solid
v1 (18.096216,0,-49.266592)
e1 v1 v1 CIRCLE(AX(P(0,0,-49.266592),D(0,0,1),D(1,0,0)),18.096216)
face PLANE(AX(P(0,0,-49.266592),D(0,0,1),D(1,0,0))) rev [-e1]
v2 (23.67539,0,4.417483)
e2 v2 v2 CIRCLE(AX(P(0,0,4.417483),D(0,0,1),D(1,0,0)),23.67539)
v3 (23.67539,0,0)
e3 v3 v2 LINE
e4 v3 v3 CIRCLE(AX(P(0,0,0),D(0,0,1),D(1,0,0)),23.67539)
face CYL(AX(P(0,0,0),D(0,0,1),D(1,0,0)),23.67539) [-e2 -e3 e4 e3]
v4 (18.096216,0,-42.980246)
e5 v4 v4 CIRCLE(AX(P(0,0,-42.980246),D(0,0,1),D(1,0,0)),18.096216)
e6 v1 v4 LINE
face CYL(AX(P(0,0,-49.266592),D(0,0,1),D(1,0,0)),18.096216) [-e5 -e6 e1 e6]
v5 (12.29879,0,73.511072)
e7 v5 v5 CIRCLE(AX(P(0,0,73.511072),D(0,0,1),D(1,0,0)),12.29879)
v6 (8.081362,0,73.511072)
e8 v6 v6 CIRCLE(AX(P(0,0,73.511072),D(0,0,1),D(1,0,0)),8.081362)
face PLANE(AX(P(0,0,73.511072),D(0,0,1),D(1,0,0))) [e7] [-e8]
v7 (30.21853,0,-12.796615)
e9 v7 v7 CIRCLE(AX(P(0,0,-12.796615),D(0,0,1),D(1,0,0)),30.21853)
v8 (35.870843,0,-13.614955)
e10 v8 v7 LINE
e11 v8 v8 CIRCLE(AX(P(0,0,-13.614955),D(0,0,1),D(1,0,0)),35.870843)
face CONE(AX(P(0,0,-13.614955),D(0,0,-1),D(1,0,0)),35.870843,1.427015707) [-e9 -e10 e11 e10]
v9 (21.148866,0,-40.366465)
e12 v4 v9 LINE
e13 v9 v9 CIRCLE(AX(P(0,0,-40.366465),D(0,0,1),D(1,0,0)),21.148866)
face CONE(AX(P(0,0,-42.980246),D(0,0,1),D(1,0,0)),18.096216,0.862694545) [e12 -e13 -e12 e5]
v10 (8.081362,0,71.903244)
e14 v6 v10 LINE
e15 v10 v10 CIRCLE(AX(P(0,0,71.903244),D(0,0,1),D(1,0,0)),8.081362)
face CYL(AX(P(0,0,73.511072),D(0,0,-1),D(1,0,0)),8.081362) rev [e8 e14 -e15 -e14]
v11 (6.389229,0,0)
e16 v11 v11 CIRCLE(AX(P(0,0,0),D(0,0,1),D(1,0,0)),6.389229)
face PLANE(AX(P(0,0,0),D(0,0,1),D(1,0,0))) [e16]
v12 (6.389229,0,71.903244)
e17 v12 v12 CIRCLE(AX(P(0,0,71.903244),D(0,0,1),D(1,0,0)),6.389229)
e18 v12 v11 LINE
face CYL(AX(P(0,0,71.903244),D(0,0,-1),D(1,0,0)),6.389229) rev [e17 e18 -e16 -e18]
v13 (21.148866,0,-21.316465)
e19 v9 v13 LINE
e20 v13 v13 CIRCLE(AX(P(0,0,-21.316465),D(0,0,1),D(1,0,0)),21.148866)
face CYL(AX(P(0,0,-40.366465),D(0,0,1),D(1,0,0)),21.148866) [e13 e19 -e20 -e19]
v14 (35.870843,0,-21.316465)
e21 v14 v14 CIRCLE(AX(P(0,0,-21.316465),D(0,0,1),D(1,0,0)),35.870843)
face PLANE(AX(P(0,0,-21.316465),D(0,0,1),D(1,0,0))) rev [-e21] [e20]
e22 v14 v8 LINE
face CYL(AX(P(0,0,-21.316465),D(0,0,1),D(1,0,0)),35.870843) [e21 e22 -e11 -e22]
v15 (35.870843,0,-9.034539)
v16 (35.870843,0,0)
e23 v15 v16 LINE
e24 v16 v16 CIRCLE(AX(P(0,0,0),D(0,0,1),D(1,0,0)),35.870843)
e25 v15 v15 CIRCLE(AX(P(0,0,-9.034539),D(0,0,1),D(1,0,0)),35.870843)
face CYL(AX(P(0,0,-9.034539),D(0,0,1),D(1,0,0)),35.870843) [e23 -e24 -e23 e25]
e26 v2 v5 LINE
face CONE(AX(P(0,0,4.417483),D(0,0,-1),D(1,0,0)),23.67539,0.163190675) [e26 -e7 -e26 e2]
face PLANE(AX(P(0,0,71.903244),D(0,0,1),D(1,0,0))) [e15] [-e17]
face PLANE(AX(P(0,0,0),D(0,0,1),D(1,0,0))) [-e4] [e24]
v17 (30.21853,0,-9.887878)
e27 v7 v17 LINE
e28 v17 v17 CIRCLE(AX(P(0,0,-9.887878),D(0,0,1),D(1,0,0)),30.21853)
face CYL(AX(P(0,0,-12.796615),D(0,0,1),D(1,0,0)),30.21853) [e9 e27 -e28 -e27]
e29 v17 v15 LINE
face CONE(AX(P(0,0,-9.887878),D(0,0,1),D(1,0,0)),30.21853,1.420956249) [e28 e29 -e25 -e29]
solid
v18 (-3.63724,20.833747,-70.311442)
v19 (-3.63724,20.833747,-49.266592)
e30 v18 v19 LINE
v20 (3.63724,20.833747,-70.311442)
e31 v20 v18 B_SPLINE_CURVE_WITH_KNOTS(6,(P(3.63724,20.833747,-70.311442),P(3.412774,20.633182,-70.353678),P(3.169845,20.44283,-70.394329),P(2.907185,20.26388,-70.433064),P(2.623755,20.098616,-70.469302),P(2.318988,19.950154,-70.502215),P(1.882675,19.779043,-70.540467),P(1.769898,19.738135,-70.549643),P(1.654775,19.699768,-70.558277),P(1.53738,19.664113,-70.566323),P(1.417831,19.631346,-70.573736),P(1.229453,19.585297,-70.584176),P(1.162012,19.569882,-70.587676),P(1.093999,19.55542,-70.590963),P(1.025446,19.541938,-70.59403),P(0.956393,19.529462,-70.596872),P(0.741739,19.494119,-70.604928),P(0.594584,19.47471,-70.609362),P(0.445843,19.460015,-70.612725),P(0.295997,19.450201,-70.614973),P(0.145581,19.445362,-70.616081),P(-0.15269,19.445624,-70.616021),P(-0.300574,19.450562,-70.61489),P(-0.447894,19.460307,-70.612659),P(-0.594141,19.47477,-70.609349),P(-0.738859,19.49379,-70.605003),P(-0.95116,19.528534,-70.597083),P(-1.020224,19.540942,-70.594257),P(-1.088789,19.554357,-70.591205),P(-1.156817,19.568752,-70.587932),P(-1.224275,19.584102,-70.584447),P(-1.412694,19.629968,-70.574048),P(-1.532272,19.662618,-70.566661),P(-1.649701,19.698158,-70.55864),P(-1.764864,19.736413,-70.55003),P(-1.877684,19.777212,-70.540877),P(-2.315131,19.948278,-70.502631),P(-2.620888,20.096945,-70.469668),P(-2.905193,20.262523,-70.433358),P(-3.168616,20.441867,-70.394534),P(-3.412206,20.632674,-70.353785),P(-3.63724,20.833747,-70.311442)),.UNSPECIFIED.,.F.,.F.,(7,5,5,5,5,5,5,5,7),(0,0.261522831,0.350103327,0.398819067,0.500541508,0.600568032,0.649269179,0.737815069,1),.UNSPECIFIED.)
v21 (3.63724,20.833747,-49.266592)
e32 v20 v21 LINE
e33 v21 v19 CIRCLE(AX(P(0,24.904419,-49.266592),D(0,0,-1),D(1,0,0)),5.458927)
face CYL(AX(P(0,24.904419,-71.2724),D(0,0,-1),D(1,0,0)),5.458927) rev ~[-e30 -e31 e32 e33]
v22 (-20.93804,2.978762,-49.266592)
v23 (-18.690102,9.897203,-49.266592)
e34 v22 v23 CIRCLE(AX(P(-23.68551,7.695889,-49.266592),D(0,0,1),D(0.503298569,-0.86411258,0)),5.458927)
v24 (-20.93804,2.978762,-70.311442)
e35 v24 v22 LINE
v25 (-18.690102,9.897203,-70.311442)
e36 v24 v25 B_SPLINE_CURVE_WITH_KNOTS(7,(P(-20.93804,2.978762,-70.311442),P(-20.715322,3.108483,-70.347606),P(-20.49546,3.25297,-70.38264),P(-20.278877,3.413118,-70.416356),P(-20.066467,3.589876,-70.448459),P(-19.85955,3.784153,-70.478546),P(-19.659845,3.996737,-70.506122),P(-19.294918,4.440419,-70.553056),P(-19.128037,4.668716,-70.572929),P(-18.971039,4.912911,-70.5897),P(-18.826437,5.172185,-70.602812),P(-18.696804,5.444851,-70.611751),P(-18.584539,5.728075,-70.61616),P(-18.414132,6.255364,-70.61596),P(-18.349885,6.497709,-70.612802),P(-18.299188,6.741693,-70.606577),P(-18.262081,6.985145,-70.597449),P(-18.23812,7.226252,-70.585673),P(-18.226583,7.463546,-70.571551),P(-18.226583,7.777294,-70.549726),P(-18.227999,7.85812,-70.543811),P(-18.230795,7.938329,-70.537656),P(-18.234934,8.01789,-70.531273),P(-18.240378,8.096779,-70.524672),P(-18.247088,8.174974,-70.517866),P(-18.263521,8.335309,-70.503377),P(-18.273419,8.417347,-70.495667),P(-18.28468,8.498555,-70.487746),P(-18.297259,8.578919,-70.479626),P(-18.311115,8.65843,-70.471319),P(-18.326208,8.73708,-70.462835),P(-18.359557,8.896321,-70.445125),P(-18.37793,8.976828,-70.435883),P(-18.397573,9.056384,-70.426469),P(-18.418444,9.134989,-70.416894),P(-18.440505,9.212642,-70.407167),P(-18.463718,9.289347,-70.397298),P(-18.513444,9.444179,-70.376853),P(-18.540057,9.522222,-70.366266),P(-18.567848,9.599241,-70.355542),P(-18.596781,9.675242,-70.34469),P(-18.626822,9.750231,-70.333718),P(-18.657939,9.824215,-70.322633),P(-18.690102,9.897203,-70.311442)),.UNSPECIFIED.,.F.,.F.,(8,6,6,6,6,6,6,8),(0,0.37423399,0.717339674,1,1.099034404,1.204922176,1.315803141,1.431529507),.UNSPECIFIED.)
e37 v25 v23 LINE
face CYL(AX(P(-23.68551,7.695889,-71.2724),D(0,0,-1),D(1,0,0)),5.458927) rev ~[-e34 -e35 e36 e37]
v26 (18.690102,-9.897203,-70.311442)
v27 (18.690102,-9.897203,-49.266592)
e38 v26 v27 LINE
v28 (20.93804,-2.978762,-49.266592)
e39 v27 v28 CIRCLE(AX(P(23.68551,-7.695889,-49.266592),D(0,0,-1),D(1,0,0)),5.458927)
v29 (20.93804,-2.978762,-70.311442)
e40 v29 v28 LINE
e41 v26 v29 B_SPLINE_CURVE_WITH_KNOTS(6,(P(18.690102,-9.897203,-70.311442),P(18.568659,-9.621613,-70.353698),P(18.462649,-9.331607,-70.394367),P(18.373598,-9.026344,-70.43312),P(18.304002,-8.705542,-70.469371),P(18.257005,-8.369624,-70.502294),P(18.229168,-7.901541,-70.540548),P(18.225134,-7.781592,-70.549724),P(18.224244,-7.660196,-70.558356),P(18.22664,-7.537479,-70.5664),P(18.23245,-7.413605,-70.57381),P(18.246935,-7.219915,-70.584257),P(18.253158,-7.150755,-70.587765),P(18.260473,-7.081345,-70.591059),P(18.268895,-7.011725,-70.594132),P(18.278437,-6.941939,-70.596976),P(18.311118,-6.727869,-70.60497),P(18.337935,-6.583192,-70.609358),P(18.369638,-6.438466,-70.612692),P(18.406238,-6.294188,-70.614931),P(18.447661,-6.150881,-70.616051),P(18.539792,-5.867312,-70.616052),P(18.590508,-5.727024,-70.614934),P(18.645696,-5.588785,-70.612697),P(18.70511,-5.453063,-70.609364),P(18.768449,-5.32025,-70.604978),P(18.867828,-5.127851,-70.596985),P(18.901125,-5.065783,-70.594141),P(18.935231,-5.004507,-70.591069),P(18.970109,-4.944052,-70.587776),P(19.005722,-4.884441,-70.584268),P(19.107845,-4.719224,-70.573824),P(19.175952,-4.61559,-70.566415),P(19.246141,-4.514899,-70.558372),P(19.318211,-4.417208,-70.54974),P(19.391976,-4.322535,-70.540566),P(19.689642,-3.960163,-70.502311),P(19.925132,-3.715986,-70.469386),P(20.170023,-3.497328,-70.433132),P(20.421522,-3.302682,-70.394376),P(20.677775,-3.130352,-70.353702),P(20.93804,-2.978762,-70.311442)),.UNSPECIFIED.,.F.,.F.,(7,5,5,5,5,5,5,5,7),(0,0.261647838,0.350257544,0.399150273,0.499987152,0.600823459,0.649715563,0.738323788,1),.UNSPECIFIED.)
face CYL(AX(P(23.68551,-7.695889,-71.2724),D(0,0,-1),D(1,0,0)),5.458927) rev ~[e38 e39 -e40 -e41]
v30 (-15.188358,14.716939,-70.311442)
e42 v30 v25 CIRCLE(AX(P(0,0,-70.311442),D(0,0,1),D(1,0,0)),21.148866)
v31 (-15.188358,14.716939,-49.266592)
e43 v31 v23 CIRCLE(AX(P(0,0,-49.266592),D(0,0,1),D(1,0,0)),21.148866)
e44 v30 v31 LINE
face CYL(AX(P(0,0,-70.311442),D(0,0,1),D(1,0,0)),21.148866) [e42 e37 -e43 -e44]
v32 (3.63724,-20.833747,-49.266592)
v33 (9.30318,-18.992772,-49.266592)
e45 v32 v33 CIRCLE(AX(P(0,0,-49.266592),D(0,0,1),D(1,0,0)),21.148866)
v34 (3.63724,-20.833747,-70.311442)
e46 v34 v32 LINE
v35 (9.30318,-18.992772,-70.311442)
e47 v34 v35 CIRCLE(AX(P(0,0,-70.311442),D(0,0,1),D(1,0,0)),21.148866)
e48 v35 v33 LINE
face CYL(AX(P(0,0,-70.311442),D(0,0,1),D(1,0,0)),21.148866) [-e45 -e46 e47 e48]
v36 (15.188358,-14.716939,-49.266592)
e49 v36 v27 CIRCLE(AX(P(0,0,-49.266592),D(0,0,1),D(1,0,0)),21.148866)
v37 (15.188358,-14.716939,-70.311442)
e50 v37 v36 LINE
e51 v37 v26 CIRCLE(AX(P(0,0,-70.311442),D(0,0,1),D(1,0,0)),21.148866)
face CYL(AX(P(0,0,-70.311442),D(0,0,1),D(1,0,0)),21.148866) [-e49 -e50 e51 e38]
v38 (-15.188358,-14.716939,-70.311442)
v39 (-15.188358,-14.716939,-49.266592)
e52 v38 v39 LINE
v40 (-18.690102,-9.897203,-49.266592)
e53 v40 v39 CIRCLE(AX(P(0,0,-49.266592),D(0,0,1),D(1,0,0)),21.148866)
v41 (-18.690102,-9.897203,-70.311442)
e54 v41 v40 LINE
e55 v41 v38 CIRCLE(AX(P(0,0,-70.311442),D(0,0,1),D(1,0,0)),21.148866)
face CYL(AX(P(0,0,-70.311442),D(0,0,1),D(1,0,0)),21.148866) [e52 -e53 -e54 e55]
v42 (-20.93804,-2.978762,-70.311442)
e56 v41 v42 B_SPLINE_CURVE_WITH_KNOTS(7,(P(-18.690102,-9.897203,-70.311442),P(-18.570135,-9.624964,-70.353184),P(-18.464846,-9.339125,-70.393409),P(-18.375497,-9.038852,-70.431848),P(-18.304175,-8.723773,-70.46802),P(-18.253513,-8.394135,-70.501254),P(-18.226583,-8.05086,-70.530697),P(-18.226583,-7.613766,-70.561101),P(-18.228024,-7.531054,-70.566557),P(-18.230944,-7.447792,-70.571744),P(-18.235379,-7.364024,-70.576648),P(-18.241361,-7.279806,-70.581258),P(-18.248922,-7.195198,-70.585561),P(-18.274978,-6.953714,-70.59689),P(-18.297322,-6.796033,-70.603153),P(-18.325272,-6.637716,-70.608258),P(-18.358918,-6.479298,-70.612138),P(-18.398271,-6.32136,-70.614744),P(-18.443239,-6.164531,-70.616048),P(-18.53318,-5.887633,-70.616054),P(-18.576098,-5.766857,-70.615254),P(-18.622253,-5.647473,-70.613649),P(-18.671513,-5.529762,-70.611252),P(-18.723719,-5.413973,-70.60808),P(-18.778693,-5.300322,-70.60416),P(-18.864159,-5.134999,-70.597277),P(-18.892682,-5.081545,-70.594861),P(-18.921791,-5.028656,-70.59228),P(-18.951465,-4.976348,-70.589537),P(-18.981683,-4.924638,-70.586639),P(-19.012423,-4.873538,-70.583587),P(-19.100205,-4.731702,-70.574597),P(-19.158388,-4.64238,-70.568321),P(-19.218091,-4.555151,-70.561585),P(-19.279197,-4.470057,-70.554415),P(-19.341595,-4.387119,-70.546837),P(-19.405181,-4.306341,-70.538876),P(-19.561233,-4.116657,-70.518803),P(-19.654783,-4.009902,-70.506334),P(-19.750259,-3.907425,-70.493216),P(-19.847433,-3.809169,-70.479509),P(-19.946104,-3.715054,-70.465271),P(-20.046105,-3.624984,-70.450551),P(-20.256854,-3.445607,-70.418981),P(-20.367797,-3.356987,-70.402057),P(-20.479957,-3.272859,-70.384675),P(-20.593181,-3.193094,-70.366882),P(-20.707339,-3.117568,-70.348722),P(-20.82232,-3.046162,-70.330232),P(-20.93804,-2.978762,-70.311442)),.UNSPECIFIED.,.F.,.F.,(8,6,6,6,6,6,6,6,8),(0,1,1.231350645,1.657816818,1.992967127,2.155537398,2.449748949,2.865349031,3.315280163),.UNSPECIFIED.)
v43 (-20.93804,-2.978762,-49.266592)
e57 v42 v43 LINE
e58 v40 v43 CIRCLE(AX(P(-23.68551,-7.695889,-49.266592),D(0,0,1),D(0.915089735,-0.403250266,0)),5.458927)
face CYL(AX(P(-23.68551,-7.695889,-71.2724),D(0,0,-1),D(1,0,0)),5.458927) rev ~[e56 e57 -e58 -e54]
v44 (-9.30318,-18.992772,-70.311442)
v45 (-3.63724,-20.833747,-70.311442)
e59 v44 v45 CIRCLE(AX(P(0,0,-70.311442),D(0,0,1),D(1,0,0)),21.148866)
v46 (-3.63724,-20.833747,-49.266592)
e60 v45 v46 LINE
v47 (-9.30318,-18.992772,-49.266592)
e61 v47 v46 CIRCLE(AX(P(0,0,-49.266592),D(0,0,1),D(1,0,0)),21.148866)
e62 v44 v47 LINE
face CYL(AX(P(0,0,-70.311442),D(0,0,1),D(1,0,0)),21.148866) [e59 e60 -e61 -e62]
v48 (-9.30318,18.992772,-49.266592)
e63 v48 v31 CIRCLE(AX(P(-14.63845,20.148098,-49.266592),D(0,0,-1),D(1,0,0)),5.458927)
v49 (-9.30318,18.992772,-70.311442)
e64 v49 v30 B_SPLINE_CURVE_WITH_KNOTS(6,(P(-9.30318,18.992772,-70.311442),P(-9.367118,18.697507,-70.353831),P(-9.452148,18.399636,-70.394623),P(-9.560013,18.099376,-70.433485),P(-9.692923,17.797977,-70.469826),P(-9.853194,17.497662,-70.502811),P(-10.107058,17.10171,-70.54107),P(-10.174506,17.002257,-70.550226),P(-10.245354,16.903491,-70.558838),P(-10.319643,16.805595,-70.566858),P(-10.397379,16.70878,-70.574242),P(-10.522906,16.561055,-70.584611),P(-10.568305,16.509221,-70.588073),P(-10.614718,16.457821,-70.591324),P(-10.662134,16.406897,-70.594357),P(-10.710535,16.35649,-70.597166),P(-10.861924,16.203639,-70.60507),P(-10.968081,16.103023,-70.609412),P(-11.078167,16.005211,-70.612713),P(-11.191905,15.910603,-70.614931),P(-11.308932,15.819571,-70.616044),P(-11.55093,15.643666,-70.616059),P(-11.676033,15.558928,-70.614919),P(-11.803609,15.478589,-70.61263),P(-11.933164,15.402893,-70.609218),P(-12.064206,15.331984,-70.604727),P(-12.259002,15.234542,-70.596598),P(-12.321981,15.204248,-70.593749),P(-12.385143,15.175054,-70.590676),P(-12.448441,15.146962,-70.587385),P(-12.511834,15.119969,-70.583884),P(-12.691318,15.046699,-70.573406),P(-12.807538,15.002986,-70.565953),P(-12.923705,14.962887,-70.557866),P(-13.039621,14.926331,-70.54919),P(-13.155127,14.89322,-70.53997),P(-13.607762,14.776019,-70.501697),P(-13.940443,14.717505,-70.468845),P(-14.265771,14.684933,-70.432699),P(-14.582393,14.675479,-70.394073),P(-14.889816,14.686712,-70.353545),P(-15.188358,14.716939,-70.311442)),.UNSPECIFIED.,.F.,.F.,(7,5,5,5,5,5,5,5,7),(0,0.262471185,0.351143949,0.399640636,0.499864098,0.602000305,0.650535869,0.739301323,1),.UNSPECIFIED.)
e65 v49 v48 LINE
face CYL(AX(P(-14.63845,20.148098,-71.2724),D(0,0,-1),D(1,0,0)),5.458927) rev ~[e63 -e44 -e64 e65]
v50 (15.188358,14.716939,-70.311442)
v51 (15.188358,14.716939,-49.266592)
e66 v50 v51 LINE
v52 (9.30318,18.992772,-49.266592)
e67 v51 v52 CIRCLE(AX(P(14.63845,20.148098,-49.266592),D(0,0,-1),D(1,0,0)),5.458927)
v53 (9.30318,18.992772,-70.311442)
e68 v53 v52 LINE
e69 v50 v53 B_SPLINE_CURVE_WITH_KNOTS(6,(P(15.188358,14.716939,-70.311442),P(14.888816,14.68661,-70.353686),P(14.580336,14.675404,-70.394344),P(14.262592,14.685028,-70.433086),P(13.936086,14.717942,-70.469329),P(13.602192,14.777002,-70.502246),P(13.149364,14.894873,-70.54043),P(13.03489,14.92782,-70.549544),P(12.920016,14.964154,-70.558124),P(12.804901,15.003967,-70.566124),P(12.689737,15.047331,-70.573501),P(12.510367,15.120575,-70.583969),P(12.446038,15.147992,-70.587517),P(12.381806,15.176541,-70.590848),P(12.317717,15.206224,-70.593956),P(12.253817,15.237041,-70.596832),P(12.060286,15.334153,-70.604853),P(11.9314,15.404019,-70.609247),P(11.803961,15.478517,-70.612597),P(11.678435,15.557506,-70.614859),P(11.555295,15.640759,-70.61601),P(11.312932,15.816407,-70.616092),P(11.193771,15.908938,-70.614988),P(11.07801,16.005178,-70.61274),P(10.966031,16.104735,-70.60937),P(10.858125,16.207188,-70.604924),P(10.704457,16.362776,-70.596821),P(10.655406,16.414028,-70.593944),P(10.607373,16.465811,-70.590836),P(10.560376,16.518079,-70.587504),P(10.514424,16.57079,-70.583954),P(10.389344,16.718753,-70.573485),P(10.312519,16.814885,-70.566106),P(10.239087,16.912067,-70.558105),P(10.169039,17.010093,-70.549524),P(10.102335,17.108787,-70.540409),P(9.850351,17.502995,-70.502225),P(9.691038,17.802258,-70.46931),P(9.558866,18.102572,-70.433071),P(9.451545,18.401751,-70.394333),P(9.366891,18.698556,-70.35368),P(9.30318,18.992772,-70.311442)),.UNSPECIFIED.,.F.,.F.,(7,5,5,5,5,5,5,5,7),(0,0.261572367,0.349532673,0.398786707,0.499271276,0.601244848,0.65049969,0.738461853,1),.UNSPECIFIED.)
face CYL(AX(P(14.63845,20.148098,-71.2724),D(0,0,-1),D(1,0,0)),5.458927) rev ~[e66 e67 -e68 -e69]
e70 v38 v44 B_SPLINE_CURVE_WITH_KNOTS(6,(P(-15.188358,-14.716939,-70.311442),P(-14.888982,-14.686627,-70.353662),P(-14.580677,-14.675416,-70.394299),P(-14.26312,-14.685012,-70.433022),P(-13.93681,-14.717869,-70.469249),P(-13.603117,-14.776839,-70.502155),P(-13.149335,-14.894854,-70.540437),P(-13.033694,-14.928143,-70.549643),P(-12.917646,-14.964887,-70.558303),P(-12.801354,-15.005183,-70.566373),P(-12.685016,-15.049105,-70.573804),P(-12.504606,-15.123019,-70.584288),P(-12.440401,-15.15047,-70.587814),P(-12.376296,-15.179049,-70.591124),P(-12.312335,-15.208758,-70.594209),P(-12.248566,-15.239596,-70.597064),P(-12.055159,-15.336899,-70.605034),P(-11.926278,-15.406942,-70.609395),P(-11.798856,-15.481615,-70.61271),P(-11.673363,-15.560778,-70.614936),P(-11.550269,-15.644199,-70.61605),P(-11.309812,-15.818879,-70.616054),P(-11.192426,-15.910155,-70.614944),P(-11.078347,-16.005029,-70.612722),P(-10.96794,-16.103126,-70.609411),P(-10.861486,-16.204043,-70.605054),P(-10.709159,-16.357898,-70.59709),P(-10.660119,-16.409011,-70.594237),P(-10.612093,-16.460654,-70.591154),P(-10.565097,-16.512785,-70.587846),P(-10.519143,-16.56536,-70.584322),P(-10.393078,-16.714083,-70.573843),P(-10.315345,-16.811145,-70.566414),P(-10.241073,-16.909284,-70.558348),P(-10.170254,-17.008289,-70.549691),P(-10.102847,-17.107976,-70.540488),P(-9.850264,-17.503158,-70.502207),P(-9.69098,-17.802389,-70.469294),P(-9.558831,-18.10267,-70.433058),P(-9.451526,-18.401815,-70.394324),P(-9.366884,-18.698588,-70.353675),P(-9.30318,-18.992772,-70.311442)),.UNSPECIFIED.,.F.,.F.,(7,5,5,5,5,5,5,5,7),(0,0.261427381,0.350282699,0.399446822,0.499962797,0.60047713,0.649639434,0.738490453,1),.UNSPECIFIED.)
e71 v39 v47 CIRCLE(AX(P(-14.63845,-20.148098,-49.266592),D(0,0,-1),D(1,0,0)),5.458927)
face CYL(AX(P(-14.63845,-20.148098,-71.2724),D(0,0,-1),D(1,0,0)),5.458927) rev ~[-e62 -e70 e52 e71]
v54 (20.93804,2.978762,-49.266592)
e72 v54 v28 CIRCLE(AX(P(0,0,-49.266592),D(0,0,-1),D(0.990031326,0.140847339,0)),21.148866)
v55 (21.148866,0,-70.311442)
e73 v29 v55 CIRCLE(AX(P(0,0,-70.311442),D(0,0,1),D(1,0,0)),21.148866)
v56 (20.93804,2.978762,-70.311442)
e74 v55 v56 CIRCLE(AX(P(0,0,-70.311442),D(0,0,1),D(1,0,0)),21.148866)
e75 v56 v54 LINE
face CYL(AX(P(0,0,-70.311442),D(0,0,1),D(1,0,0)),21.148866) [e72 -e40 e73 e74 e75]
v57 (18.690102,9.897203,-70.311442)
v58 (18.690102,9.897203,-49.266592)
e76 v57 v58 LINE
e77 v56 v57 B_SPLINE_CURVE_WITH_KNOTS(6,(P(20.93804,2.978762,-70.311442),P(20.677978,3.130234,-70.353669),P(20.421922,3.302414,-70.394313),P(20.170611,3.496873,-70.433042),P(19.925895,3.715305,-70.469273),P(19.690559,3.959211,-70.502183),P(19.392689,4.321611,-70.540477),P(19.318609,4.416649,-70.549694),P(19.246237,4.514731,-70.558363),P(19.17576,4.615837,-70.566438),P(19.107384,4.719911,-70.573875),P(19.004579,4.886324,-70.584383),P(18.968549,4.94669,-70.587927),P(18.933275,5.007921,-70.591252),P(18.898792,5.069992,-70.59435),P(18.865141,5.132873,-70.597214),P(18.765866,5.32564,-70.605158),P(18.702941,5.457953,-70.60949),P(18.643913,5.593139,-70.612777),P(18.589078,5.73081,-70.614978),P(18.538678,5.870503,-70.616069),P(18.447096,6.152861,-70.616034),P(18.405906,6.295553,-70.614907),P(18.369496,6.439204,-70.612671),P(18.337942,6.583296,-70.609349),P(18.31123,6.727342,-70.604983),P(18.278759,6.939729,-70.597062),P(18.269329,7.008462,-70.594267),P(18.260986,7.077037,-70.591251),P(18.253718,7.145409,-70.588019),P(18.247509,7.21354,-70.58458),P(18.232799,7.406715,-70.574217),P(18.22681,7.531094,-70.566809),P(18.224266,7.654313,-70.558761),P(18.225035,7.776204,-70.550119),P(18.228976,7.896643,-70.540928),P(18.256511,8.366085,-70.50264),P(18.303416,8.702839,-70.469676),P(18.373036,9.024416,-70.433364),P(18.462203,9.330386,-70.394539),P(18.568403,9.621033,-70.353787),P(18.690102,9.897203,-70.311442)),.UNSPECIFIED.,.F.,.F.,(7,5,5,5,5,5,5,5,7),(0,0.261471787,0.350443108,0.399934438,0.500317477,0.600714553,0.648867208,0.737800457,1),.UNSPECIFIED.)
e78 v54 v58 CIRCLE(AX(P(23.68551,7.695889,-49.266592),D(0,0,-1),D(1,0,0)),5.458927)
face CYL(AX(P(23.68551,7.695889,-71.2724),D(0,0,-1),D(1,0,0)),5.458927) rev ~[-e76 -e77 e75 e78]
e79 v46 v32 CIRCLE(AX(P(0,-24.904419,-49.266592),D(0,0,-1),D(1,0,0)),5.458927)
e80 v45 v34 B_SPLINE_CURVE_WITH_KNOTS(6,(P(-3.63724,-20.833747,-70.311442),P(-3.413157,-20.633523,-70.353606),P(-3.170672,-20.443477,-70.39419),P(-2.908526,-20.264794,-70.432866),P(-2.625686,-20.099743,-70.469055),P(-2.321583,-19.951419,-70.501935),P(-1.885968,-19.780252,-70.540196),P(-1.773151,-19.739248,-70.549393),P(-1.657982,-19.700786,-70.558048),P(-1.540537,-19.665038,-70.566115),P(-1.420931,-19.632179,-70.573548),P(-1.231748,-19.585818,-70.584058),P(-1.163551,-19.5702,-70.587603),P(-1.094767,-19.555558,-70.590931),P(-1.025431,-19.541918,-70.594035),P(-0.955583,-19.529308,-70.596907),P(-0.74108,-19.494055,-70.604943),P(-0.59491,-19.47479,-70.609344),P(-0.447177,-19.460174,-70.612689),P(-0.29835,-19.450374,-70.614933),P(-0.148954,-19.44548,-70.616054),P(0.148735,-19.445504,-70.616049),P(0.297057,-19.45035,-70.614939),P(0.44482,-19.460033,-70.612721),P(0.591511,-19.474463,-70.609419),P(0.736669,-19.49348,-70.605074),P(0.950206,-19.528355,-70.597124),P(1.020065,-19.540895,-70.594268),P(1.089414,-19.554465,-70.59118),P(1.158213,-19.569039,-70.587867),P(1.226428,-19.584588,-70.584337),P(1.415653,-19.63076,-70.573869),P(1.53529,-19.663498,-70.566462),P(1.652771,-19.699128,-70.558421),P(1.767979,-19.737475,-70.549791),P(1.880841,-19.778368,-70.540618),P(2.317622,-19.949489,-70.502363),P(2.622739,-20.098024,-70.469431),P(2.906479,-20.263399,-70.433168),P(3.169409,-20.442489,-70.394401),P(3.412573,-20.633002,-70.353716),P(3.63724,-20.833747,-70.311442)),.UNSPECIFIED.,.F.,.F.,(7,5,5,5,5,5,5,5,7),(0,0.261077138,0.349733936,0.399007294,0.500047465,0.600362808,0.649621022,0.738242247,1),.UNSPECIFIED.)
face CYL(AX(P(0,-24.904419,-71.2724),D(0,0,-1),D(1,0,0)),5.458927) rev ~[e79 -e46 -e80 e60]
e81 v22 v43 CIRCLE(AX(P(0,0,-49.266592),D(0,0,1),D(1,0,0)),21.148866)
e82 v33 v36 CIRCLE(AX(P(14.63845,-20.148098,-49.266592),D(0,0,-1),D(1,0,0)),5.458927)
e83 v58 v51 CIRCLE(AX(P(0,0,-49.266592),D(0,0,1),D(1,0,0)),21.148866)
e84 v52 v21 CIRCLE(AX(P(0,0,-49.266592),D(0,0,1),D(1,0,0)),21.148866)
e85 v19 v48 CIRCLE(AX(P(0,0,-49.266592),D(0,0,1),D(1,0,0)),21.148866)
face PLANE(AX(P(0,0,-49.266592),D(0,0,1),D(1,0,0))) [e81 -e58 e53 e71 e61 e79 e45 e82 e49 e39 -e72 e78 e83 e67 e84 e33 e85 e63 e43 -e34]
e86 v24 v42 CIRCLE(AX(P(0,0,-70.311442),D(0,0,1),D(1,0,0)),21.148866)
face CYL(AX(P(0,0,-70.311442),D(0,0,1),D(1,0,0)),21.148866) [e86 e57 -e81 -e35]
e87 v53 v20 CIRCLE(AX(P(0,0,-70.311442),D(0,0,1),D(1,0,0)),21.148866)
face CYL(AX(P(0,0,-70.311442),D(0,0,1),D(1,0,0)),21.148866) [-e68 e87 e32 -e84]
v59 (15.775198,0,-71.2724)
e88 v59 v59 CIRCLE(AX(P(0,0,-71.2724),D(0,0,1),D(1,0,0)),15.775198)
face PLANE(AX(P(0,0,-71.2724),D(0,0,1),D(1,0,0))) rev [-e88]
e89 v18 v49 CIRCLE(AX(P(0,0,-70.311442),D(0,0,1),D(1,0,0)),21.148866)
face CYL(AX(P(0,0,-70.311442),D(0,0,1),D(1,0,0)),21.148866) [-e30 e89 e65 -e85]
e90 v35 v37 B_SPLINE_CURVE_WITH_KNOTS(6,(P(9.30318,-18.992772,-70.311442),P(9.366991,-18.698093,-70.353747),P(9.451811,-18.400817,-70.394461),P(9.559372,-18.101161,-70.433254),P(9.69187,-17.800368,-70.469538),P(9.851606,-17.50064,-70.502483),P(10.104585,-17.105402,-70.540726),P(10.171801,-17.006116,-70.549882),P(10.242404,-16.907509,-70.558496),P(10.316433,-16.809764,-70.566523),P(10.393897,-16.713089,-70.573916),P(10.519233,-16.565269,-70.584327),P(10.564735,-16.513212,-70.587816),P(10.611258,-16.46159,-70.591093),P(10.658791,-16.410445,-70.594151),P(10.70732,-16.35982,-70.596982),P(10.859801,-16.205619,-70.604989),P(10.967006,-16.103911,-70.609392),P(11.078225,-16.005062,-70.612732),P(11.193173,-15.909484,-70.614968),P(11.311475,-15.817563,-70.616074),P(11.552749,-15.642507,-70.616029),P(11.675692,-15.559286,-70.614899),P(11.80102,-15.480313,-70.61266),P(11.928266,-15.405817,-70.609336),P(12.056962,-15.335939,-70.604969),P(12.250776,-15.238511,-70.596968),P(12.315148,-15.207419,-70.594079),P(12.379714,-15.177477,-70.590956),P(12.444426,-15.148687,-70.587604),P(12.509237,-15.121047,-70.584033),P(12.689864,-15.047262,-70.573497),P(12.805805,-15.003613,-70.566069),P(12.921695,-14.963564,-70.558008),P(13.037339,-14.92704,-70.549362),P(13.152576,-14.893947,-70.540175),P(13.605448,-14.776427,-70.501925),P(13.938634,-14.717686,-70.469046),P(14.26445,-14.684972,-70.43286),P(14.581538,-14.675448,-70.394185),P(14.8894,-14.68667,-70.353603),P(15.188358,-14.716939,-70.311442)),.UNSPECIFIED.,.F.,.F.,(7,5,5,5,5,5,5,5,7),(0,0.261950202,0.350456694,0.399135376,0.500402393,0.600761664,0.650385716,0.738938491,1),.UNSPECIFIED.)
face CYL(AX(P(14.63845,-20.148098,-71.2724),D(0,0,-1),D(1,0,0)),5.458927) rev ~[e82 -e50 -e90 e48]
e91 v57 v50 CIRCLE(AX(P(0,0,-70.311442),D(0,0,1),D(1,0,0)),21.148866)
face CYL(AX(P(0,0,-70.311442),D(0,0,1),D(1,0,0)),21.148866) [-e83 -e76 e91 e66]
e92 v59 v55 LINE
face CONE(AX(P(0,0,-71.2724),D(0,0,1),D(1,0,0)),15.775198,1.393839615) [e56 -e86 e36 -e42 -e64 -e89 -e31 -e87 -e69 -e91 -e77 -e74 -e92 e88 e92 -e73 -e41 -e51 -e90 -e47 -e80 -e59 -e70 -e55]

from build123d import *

# Parameters (mm, degrees)
F3_R     = 5.458927
F4_DEPTH = 25.4


with BuildPart() as f1:
    # F0 (on Front) → F1 (revolve)
    with BuildSketch(Plane.XZ):
        Polygon((6.389229, 71.903244), (6.389229, 0), (23.67539, 0), (23.67539, 4.417483), (12.29879, 73.511072), (8.081362, 73.511072), (8.081362, 71.903244), align=None)
        Polygon((6.389229, 0), (0, 0), (0, -49.266592), (18.096216, -49.266592), (18.096216, -42.980246), (21.148866, -40.366465), (21.148866, -21.316465), (35.870843, -21.316465), (35.870843, -13.614955), (30.21853, -12.796615), (30.21853, -9.887878), (35.870843, -9.034539), (35.870843, 0), (23.67539, 0), align=None)
    revolve(axis=Axis((0, 0, -35.6362), (0, 0, 1)))


with BuildPart() as f2:
    # F0 (on Front) → F2 (revolve)
    with BuildSketch(Plane.XZ):
        Polygon((18.096216, -49.266592), (0, -49.266592), (0, -71.2724), (15.775198, -71.2724), (21.148866, -70.311442), (21.148866, -49.266592), align=None)
    revolve(axis=Axis((0, 0, -35.6362), (0, 0, 1)))

    # F3 (on face) → F4 (cut)
    with BuildSketch(Plane(origin=(0, 0, -71.2724), x_dir=(1, 0, 0), z_dir=(0, 0, -1))):
        with Locations((0, 24.904419)):
            Circle(F3_R)
        with Locations((-14.63845, 20.148098)):
            Circle(F3_R)
        with Locations((-23.68551, 7.695889)):
            Circle(F3_R)
        with Locations((-23.68551, -7.695889)):
            Circle(F3_R)
        with Locations((-14.63845, -20.148098)):
            Circle(F3_R)
        with Locations((0, -24.904419)):
            Circle(F3_R)
        with Locations((14.63845, -20.148098)):
            Circle(F3_R)
        with Locations((23.68551, -7.695889)):
            Circle(F3_R)
        with Locations((23.68551, 7.695889)):
            Circle(F3_R)
        with Locations((14.63845, 20.148098)):
            Circle(F3_R)
    extrude(amount=-F4_DEPTH, mode=Mode.SUBTRACT)


solid = Compound([f1.part, f2.part])
